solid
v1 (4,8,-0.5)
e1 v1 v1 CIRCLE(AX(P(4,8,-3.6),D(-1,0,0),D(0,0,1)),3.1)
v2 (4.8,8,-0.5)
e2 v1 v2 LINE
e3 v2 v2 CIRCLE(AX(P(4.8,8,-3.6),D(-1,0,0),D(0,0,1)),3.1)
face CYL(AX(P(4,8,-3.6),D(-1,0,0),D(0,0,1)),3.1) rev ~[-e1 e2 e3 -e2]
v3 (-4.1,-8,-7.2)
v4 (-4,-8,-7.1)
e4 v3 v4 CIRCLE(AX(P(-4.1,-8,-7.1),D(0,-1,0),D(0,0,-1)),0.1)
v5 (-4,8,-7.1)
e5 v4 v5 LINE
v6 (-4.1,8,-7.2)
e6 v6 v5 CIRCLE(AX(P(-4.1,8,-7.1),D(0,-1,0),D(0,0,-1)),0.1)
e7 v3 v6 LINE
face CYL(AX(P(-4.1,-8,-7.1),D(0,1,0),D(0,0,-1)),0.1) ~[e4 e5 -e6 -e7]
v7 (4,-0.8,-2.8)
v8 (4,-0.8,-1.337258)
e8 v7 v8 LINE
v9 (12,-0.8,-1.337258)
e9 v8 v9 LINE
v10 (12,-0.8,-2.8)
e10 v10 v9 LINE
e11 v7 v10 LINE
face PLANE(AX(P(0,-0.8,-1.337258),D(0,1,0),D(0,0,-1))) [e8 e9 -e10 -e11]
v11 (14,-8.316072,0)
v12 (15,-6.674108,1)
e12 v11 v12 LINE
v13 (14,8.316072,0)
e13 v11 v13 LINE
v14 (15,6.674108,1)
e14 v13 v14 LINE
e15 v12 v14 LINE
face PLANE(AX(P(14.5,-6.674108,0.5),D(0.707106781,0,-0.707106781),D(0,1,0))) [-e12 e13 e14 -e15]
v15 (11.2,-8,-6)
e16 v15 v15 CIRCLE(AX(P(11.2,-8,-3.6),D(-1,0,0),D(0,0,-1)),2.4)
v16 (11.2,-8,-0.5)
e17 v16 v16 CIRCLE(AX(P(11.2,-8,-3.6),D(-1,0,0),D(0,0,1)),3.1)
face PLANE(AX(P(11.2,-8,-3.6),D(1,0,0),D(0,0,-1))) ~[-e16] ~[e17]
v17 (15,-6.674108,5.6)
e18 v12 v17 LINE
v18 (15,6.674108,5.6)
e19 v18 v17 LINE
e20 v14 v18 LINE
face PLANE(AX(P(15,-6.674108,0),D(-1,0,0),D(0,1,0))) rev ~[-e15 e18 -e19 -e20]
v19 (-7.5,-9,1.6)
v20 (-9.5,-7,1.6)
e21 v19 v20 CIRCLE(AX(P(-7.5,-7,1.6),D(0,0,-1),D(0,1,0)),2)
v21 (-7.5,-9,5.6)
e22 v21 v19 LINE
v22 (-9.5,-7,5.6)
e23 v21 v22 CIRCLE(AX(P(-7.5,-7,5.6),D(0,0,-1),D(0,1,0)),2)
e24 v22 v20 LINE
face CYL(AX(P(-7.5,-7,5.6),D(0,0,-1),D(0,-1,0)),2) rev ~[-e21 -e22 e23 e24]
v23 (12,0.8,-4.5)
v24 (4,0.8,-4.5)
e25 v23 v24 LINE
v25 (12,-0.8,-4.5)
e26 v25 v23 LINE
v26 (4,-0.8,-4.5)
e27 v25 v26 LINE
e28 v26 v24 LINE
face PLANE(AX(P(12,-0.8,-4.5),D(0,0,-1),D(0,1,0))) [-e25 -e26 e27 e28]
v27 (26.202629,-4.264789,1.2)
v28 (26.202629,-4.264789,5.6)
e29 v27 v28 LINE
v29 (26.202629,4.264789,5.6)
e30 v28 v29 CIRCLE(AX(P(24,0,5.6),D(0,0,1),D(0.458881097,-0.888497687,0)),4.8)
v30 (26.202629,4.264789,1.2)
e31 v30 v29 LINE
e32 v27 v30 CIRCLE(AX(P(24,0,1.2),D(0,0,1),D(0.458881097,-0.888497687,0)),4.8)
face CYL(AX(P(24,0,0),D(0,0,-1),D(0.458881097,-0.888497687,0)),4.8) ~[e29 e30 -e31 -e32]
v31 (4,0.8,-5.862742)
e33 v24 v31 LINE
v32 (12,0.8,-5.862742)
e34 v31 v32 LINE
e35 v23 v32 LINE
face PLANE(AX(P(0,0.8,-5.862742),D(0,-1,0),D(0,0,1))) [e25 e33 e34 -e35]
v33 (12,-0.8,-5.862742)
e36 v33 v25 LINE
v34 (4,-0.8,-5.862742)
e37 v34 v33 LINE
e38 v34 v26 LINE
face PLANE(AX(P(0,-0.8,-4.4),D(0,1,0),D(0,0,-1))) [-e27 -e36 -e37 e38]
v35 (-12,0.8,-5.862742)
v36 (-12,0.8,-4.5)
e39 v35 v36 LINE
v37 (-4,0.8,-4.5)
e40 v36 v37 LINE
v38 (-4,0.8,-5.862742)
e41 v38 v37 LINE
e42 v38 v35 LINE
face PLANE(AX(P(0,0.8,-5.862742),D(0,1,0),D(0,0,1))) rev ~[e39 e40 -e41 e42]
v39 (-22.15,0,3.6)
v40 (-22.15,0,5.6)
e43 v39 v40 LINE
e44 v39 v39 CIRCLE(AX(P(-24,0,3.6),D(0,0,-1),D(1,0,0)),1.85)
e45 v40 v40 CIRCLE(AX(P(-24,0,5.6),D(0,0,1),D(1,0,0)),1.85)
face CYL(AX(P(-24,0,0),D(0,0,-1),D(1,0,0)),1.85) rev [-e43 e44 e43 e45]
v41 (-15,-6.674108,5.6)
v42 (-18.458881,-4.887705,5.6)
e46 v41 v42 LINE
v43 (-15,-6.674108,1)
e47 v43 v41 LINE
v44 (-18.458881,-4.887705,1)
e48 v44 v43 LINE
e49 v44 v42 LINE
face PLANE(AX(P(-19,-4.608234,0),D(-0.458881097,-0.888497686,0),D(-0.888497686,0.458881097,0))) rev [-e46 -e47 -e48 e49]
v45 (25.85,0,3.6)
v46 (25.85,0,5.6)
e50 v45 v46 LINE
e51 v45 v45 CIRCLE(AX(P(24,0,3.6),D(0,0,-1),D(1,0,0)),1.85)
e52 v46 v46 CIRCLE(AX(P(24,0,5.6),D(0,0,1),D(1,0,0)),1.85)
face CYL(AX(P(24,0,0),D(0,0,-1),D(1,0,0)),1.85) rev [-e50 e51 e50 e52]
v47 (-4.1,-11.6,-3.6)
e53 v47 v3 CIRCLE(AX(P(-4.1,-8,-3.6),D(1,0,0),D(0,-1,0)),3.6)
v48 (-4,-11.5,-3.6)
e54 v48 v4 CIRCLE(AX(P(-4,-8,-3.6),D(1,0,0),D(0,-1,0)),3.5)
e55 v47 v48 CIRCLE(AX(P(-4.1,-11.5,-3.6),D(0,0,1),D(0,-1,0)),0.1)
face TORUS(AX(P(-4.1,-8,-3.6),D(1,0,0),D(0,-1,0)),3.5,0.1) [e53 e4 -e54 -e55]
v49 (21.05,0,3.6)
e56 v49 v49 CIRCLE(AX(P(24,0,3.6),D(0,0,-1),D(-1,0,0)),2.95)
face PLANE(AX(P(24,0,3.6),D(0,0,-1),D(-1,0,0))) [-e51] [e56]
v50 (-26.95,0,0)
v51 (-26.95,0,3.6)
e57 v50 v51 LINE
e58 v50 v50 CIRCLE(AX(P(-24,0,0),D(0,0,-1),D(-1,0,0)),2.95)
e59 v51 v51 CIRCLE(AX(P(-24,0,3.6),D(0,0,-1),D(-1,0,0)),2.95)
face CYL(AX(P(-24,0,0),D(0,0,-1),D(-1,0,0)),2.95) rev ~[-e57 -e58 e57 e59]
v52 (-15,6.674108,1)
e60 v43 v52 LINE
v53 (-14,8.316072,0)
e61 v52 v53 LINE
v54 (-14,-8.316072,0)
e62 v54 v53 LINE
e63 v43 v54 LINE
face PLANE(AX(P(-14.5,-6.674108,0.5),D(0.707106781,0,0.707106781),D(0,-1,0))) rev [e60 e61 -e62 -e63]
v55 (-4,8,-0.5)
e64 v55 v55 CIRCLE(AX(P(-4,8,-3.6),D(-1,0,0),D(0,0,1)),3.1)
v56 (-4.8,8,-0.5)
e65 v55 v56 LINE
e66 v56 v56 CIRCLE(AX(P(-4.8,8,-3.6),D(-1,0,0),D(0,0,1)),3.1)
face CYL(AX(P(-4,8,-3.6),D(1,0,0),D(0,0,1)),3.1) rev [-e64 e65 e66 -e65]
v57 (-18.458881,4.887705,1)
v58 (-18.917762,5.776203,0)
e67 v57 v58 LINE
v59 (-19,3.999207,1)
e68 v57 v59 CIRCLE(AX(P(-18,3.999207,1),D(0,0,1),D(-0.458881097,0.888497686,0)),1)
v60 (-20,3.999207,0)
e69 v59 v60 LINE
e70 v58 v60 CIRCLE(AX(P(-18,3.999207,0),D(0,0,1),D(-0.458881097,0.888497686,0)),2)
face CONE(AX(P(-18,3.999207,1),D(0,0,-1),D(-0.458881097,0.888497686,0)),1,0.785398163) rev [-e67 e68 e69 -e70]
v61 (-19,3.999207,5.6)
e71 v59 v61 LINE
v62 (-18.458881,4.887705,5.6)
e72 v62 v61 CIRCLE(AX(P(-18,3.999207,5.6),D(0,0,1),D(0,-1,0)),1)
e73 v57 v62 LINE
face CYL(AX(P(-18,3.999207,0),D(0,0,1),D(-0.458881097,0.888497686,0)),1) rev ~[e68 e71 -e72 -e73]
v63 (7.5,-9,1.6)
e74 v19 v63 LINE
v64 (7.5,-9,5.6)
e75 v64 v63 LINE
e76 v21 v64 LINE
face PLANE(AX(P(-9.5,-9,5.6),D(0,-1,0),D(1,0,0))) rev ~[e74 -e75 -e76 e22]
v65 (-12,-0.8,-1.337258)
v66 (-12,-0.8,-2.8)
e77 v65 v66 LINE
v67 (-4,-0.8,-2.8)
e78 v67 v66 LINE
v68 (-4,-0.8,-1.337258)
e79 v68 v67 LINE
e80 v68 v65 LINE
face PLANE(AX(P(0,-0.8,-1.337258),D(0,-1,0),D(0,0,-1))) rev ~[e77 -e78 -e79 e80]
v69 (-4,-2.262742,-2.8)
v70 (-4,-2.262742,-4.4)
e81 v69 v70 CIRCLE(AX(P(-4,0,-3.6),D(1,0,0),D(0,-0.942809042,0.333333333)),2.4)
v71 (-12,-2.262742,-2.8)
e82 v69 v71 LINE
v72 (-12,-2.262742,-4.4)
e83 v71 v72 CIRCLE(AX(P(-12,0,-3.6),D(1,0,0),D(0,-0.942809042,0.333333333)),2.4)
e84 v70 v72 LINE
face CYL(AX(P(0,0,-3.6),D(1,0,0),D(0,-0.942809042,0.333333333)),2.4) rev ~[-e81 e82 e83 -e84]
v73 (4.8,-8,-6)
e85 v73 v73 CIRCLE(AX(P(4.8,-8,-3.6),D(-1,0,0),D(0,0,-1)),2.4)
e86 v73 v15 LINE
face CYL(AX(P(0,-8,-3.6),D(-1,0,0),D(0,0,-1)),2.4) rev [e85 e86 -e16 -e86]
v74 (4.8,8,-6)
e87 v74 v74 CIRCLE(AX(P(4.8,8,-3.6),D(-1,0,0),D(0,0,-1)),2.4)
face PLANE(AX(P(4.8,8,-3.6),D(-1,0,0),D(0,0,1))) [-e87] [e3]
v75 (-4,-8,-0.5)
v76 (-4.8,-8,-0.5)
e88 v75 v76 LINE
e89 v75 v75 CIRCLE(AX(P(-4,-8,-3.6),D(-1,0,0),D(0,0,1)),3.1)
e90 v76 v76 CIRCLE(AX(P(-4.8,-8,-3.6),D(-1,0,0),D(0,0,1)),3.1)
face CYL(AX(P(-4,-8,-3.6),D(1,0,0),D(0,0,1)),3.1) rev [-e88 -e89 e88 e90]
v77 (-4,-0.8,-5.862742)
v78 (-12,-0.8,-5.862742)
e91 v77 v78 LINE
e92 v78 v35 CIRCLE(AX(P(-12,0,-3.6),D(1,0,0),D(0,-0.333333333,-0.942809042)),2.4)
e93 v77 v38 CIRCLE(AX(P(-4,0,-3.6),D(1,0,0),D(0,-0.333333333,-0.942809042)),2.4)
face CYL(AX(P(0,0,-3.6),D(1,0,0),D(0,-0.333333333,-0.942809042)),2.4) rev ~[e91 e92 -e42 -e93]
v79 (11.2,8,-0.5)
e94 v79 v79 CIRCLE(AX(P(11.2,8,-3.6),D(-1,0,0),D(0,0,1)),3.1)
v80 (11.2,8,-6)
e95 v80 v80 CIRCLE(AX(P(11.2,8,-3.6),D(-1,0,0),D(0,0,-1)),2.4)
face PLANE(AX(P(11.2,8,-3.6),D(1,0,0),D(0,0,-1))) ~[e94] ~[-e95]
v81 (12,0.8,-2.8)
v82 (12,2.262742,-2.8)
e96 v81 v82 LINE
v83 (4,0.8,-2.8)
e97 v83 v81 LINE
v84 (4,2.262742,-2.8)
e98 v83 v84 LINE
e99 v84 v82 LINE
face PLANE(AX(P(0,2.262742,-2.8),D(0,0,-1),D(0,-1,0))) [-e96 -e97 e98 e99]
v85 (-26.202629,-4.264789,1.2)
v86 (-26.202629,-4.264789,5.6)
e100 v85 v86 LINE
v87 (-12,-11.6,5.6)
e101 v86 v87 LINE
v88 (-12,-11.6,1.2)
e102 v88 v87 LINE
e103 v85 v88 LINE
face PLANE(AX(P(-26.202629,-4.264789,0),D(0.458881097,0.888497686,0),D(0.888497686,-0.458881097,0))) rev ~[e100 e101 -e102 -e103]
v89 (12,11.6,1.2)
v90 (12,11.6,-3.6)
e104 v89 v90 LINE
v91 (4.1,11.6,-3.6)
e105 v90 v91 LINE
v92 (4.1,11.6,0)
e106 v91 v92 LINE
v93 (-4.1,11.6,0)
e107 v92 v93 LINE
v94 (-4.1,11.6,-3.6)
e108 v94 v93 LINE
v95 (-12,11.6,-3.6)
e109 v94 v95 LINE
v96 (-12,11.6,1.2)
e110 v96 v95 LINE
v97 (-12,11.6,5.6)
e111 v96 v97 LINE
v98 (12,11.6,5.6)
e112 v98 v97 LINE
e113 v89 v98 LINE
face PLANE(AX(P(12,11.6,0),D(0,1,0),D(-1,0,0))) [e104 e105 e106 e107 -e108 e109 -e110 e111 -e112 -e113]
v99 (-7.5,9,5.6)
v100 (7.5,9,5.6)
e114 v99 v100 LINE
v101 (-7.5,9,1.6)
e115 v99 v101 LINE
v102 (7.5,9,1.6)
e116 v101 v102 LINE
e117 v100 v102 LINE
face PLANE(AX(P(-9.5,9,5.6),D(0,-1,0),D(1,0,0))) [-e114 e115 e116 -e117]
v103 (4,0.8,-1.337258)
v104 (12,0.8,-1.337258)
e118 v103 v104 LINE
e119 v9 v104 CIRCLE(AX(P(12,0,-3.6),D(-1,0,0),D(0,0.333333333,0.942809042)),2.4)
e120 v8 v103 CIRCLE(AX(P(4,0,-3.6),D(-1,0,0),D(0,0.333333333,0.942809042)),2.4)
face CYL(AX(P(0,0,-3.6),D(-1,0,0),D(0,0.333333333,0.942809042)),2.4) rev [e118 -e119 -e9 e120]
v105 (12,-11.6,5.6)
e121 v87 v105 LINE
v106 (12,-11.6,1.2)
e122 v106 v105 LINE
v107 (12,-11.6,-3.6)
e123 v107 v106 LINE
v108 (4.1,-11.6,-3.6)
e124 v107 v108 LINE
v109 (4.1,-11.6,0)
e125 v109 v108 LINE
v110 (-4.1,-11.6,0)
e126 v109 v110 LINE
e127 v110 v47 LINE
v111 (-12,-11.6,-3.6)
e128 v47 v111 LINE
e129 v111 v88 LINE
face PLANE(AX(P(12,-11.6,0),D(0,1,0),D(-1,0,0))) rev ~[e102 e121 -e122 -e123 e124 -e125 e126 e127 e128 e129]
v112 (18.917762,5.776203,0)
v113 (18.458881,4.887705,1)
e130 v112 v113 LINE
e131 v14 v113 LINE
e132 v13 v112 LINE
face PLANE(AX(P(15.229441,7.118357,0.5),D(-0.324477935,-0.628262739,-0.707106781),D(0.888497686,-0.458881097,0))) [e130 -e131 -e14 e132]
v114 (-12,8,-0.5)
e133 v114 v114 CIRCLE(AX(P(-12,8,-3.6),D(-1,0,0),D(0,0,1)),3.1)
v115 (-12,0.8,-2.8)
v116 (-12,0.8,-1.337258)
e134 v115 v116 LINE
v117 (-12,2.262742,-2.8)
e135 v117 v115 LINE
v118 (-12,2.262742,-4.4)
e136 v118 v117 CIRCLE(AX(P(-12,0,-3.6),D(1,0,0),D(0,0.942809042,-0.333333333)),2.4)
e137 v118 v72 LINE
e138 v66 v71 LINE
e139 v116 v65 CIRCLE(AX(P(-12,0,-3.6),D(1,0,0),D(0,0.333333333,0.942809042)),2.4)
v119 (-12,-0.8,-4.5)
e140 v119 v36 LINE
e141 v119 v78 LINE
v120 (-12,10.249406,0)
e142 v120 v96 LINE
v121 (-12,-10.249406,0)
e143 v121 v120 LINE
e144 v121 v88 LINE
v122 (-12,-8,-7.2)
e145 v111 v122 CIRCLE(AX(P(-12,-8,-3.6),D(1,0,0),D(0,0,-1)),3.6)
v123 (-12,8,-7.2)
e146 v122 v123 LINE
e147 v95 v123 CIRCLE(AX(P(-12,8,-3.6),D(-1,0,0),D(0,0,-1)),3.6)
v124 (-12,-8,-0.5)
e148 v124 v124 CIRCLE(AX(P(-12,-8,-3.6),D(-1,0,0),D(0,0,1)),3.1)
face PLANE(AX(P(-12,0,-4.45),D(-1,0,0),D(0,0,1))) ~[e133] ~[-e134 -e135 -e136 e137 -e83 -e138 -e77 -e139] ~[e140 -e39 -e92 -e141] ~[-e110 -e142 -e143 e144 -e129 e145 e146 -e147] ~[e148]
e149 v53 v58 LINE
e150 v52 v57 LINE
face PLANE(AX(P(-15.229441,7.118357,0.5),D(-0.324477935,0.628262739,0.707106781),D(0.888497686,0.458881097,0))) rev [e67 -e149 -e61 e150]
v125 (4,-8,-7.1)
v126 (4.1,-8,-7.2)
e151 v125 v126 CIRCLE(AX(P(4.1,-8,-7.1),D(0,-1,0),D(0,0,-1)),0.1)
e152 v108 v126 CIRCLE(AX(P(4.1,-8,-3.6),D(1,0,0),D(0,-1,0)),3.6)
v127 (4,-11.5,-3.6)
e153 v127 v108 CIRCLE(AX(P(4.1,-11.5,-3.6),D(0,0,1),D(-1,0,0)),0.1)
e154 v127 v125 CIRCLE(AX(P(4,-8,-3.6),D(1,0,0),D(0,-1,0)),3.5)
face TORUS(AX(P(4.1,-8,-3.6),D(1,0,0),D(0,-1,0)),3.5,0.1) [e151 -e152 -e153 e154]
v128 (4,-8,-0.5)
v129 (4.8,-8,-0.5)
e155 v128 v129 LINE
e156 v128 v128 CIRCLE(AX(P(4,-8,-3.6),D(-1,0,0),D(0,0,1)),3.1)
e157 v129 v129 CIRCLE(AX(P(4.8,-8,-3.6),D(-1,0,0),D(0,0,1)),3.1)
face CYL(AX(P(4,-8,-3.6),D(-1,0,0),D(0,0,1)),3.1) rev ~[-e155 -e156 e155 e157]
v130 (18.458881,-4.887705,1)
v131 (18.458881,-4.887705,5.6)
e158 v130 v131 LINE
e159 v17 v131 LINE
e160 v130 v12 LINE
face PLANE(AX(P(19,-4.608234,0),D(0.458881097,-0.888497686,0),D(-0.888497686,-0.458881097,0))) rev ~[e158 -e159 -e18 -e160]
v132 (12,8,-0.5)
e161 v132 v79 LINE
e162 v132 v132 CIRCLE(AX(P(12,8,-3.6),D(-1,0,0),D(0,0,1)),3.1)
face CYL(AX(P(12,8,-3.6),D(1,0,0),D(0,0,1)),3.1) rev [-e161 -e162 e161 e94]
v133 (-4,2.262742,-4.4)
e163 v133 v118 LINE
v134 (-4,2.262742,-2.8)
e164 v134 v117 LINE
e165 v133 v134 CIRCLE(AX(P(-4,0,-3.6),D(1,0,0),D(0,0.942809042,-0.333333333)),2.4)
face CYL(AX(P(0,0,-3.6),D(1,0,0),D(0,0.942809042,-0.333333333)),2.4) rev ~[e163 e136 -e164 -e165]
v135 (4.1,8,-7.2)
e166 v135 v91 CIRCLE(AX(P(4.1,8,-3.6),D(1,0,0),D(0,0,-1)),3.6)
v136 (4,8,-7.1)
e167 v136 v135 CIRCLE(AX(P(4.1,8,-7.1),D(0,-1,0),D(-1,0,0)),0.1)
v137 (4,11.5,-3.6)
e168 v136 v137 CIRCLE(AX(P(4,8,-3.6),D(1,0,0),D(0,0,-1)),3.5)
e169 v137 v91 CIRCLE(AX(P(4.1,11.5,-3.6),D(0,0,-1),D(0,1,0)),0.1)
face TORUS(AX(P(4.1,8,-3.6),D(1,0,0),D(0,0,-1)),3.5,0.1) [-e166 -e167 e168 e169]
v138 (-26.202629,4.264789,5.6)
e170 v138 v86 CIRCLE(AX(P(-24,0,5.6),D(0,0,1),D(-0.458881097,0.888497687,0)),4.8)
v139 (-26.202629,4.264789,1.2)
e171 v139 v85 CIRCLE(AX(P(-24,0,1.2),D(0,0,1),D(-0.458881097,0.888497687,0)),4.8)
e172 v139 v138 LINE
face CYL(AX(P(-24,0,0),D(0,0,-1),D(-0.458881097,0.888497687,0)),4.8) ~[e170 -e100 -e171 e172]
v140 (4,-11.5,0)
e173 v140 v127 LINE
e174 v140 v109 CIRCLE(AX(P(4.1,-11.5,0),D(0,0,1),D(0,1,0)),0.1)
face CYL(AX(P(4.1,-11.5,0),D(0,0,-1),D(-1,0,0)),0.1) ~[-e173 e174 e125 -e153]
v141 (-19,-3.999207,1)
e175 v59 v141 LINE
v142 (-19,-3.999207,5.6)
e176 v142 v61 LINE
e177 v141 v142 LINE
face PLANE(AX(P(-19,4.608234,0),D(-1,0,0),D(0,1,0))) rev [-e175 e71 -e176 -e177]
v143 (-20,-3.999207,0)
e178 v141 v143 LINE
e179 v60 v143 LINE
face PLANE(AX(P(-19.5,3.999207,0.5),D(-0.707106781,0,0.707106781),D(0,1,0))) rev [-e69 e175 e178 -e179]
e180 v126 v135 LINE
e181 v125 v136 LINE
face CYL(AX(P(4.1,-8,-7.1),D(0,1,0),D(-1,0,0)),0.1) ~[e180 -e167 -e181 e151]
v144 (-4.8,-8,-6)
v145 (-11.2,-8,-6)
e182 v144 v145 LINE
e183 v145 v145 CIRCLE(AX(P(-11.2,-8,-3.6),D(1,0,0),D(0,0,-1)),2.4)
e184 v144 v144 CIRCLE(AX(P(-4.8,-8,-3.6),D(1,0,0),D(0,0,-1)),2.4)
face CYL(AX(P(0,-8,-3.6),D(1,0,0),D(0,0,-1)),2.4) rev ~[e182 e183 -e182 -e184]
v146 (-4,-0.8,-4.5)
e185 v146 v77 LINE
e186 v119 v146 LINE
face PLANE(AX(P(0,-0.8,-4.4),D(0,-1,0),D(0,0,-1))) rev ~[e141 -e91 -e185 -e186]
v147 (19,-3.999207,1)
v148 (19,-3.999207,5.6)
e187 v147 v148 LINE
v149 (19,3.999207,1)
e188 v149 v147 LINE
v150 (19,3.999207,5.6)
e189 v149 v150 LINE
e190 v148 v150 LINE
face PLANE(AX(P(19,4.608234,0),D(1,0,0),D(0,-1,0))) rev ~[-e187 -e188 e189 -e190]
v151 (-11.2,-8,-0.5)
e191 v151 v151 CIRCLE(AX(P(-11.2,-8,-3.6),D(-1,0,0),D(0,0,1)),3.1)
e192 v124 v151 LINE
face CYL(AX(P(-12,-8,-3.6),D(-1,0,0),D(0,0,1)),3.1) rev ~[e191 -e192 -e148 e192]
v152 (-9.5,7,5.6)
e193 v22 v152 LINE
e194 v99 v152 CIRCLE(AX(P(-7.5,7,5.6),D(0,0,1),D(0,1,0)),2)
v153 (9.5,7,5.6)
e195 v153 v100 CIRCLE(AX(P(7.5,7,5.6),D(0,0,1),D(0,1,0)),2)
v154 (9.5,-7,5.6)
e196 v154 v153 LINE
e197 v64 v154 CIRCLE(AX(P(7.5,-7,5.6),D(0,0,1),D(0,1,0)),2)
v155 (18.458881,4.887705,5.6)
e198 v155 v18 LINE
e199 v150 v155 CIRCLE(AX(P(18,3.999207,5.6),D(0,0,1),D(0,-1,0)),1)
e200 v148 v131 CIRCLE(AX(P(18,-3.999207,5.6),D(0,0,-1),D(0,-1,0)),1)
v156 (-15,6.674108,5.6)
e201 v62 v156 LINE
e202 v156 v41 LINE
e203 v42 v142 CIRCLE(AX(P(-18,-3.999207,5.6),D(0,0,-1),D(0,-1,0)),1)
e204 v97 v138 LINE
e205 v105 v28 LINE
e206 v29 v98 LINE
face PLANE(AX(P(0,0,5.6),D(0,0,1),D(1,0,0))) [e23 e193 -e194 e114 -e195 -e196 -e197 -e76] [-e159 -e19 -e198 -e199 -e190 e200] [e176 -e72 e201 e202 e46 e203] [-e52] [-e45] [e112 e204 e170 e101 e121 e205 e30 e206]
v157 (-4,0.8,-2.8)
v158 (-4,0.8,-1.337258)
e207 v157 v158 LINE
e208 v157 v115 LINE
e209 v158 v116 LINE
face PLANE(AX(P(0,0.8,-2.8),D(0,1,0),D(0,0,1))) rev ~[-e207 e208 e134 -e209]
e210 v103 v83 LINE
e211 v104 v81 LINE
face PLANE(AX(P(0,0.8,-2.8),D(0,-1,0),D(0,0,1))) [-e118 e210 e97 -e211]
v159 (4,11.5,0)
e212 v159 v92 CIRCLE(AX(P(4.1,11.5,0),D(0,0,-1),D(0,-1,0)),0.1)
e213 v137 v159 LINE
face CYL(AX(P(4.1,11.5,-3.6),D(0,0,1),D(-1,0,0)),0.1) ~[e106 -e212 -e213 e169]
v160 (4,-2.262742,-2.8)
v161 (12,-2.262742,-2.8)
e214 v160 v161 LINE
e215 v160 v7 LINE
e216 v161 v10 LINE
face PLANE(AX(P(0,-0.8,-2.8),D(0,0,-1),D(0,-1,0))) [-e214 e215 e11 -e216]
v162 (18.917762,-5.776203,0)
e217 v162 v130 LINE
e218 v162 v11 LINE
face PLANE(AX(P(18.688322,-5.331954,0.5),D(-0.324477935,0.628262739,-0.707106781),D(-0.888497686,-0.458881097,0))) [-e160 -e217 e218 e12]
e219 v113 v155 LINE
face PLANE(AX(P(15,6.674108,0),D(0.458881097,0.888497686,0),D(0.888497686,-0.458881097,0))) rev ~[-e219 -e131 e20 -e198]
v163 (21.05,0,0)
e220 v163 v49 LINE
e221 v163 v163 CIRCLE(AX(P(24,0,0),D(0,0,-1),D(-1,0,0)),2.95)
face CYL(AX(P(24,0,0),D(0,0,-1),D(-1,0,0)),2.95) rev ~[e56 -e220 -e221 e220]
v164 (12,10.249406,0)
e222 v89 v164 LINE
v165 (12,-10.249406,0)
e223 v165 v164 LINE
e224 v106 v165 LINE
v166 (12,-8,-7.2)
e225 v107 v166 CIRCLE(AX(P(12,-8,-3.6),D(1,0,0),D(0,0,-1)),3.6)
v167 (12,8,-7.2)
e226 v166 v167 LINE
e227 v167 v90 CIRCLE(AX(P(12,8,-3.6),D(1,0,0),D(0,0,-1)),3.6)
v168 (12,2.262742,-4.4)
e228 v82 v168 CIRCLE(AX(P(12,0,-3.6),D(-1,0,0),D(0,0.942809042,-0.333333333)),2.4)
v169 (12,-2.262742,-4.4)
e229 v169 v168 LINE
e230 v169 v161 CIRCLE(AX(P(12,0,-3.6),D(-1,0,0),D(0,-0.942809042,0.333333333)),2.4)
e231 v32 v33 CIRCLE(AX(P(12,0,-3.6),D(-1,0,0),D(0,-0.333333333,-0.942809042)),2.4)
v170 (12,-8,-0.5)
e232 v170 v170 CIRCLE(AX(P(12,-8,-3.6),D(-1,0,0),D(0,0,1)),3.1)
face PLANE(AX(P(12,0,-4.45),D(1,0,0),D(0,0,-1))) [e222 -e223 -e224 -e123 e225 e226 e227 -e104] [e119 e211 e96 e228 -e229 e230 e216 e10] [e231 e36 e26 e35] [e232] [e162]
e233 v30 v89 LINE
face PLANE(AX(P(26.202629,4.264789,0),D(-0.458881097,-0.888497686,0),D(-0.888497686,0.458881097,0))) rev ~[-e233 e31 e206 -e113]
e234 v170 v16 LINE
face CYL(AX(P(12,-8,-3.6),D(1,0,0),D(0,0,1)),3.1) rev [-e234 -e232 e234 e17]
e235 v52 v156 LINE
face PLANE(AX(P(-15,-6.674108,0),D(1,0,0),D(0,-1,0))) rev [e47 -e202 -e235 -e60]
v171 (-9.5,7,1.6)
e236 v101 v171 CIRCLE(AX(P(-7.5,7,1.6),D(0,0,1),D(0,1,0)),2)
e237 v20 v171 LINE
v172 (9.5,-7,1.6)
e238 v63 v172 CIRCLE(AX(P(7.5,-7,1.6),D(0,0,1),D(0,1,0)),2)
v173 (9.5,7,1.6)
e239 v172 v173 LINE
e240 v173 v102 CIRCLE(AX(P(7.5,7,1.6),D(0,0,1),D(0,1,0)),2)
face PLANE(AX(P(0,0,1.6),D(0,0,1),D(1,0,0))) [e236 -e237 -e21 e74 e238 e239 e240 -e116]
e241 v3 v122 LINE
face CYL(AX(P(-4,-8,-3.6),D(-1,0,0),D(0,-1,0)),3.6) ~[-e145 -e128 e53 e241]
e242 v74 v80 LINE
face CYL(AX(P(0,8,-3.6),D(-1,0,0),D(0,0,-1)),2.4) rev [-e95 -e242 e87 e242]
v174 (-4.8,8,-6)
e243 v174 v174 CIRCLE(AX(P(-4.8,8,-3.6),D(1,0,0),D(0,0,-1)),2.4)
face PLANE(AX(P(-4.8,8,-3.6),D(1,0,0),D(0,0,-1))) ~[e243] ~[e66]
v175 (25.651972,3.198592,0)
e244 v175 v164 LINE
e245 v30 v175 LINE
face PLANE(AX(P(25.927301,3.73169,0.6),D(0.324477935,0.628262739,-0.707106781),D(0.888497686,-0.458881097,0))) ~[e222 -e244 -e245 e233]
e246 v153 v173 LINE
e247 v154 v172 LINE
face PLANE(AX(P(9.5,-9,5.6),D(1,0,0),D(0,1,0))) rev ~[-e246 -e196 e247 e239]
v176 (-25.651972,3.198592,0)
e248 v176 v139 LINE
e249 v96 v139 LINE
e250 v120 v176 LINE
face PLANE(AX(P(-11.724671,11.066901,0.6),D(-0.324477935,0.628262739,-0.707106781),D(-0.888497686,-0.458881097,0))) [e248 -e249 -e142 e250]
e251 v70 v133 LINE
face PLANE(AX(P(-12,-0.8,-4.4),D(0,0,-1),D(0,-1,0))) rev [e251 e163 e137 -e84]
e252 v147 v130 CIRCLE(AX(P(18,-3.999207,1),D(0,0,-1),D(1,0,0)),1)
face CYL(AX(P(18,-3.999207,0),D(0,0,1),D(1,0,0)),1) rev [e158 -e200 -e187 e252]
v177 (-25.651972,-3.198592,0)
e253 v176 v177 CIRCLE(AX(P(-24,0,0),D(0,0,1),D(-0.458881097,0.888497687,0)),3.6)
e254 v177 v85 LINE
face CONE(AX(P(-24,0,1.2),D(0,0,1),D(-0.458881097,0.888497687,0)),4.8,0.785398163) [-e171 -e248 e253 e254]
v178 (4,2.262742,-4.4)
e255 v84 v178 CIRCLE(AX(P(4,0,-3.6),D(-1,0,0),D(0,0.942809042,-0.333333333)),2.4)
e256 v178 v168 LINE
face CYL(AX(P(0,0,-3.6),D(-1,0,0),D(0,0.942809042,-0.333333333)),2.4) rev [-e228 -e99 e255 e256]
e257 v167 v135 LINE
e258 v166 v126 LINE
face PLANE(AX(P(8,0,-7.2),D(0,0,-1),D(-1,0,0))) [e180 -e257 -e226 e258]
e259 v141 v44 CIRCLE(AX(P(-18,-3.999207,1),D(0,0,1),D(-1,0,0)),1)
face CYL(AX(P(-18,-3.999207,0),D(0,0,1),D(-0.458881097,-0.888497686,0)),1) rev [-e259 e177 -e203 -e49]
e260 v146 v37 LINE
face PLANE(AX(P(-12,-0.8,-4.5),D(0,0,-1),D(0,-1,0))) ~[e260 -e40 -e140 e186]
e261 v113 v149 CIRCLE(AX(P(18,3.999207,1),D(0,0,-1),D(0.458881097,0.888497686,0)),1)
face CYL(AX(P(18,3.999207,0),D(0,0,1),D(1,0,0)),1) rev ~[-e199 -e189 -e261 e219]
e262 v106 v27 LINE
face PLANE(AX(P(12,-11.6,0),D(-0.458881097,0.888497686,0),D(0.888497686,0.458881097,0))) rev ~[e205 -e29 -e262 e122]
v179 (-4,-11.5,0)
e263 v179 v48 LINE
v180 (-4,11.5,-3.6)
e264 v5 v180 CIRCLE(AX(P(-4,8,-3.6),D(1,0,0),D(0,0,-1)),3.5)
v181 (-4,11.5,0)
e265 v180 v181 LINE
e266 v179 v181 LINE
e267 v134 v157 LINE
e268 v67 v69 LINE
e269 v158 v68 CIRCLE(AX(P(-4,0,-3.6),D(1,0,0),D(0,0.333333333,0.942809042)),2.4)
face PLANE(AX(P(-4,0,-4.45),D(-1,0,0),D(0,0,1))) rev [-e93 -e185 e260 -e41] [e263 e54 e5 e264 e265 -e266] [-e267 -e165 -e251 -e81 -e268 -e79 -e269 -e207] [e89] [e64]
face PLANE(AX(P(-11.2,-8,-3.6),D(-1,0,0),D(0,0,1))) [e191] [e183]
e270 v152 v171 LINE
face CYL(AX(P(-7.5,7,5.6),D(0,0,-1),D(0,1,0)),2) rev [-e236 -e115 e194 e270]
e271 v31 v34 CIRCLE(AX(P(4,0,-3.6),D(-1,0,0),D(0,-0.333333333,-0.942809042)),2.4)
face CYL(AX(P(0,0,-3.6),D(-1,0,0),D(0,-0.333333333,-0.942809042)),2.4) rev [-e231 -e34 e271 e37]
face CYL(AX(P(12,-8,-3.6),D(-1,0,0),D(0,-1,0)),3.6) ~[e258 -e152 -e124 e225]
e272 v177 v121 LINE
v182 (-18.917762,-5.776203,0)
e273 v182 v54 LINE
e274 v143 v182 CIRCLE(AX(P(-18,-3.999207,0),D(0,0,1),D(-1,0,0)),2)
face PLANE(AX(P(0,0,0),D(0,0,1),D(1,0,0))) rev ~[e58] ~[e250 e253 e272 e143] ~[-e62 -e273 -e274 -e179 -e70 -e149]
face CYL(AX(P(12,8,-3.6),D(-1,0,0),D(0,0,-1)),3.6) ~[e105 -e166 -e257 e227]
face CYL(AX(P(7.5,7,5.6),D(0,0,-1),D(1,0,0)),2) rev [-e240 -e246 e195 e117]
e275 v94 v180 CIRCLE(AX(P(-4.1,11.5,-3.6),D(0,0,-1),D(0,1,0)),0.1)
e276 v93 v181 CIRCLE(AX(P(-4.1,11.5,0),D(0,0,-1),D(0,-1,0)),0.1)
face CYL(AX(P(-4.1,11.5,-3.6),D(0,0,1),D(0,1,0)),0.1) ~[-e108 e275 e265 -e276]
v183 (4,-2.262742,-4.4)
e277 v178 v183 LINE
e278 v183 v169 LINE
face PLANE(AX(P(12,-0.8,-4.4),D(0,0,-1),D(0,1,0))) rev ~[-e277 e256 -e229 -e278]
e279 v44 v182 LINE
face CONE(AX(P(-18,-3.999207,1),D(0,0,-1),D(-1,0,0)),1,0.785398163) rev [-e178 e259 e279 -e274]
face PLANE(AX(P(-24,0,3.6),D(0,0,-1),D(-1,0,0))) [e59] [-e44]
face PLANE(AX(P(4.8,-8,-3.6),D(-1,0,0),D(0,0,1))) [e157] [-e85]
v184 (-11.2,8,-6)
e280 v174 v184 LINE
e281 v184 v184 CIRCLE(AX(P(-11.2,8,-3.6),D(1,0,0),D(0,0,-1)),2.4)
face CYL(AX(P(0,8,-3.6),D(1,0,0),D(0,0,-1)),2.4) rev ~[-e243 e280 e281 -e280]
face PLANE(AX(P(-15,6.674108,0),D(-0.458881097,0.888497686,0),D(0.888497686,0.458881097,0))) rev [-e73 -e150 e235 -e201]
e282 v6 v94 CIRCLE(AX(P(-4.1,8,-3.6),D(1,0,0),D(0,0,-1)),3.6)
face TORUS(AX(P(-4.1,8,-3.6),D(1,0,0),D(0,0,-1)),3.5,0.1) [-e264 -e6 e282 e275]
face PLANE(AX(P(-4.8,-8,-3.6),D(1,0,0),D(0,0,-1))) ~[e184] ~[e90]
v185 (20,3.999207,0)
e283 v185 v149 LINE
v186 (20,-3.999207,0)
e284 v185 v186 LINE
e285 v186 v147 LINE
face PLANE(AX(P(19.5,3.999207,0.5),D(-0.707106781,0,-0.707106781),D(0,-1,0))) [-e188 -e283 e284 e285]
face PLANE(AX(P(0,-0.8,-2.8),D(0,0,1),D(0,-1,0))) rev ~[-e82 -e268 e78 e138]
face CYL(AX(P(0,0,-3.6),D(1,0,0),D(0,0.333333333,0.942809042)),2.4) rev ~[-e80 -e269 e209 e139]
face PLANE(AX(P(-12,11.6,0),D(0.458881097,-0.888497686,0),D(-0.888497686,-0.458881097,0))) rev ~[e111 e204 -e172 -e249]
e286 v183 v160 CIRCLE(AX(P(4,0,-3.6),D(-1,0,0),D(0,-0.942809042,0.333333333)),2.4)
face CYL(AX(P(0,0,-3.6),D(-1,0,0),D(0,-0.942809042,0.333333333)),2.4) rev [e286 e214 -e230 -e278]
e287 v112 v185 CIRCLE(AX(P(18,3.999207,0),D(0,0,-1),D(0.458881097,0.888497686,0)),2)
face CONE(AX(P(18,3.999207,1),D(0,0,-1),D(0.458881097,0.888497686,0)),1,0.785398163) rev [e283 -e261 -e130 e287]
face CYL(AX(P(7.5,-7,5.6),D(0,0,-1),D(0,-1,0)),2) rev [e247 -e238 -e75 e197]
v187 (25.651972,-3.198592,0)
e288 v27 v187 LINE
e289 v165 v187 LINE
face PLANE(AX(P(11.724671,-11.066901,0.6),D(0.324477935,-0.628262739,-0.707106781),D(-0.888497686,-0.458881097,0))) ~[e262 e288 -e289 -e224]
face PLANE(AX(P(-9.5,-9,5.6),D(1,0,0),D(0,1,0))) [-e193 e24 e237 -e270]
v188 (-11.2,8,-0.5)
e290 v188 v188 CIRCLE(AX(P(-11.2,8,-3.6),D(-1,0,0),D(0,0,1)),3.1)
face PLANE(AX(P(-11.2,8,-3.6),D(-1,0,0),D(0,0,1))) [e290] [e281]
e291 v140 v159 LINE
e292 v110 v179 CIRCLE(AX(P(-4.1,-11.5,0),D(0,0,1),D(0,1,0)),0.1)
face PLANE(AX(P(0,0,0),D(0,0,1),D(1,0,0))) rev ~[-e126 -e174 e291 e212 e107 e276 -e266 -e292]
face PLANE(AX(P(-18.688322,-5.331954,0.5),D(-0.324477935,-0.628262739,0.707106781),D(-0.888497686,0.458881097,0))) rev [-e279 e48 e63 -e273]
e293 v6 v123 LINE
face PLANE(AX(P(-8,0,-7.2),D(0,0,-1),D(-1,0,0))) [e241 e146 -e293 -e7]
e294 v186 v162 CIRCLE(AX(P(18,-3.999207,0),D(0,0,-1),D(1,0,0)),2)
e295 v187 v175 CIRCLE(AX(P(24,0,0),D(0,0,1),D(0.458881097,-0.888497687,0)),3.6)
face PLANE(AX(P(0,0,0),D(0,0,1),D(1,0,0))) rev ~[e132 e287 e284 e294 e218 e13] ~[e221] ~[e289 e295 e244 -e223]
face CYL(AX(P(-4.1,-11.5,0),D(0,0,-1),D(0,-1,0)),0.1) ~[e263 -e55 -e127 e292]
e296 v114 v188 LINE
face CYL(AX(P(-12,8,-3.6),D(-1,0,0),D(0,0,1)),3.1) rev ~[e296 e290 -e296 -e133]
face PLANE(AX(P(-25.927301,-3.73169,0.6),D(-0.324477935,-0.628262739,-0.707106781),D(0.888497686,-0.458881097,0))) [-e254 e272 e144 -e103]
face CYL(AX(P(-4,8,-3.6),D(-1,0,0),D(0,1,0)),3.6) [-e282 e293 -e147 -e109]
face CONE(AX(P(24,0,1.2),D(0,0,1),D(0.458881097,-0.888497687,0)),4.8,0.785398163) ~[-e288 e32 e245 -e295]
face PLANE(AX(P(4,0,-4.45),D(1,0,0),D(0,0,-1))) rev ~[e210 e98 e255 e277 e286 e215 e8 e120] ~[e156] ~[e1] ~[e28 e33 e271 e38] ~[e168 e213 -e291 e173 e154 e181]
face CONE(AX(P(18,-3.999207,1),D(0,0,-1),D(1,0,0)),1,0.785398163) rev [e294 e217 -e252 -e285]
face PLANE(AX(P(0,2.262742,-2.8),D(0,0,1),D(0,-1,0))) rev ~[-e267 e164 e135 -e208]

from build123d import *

# Parameters (mm, degrees)
SKETCH_2_R                 = 1.85
EXTRUDE_1_DEPTH            = 5.6
SKETCH_3_R                 = 2.95
CUT_EXTRUDE_1_DEPTH        = 3.6
SKETCH_4_W                 = 8
SKETCH_4_H                 = 23.2
EXTRUDE_2_DEPTH            = 7.2
SKETCH_5_R                 = 2.4
CUT_EXTRUDE_2_DEPTH        = 29.8
CUT_EXTRUDE_2_DEPTH_BACK   = 29.8
FILLET_1_R                 = 3.6
SKETCH_6_R                 = 3.1
CUT_EXTRUDE_3_DEPTH        = 0.8
MIRROR_2_COPY_1_SKETCH_R   = 3.1
MIRROR_2_COPY_1_DEPTH      = 0.8
CUT_EXTRUDE_4_DEPTH        = 6.6
SKETCH_8_W                 = 19
SKETCH_8_H                 = 18
CUT_EXTRUDE_5_DEPTH        = 4
FILLET_3_R                 = 2
FILLET_4_R                 = 0.1
FILLET_5_R                 = 1
CHAMFER_1_SIZE             = 1
FILLET_5_OF_MIRROR_3_R     = 1
CHAMFER_1_OF_MIRROR_3_SIZE = 1
CHAMFER_2_SIZE             = 1.2
SKETCH_9_W                 = 0.1
SKETCH_9_H                 = 1.6
EXTRUDE_3_DEPTH            = 8


with BuildPart() as part:
    # ｽｹｯﾁ2 → ﾎﾞｽ - 押し出し1 (new body)
    with BuildSketch(Plane.XY):
        with BuildLine():
            Line((-12, 11.6), (-26.202629265, 4.264788895))
            ThreePointArc((-26.202629265, 4.264788895), (-28.8, 0), (-26.202629265, -4.264788895))
            Line((-26.202629265, -4.264788895), (-12, -11.6))
            Line((-12, -11.6), (12, -11.6))
            Line((12, -11.6), (26.202629265, -4.264788895))
            ThreePointArc((26.202629265, -4.264788895), (28.8, 0), (26.202629265, 4.264788895))
            Line((26.202629265, 4.264788895), (12, 11.6))
            Line((12, 11.6), (-12, 11.6))
        make_face()
        with Locations((-24, 0)):
            Circle(SKETCH_2_R, mode=Mode.SUBTRACT)
        with Locations((24, 0)):
            Circle(SKETCH_2_R, mode=Mode.SUBTRACT)
    extrude(amount=EXTRUDE_1_DEPTH)

    # ｽｹｯﾁ3 → ｶｯﾄ - 押し出し1 (cut)
    with BuildSketch(Plane(origin=(0, 0, 0), x_dir=(-1, 0, 0), z_dir=(0, 0, -1))):
        with Locations((-24, 0)):
            Circle(SKETCH_3_R)
        with Locations((24, 0)):
            Circle(SKETCH_3_R)
    extrude(amount=-CUT_EXTRUDE_1_DEPTH, mode=Mode.SUBTRACT)

    # ｽｹｯﾁ4 → ﾎﾞｽ - 押し出し2 (add)
    with BuildSketch(Plane(origin=(0, 0, 0), x_dir=(-1, 0, 0), z_dir=(0, 0, -1))):
        with Locations((-8, 0)):
            Rectangle(SKETCH_4_W, SKETCH_4_H)
        with Locations((8, 0)):
            Rectangle(SKETCH_4_W, SKETCH_4_H)
    extrude(amount=EXTRUDE_2_DEPTH)

    # ｽｹｯﾁ5 → ｶｯﾄ - 押し出し2 (cut, two sides)
    with BuildSketch(Plane(origin=(0, 0, 0), x_dir=(0, 0, -1), z_dir=(1, 0, 0))) as cut_extrude_2_sk:
        with Locations((3.6, 8)):
            Circle(SKETCH_5_R)
        with Locations((3.6, -8)):
            Circle(SKETCH_5_R)
        with BuildLine():
            Line((2.8, 2.2627417), (2.8, 0.8))
            Line((2.8, 0.8), (1.3372583, 0.8))
            ThreePointArc((1.3372583, 0.8), (1.2, 0), (1.3372583, -0.8))
            Line((1.3372583, -0.8), (2.8, -0.8))
            Line((2.8, -0.8), (2.8, -2.2627417))
            ThreePointArc((2.8, -2.2627417), (3.6, -2.4), (4.4, -2.2627417))
            Line((4.4, -2.2627417), (4.4, -0.8))
            Line((4.4, -0.8), (5.8627417, -0.8))
            ThreePointArc((5.8627417, -0.8), (6, 0), (5.8627417, 0.8))
            Line((5.8627417, 0.8), (4.4, 0.8))
            Line((4.4, 0.8), (4.4, 2.2627417))
            ThreePointArc((4.4, 2.2627417), (3.6, 2.4), (2.8, 2.2627417))
        make_face()
    extrude(amount=CUT_EXTRUDE_2_DEPTH, mode=Mode.SUBTRACT)
    extrude(cut_extrude_2_sk.sketch, amount=-CUT_EXTRUDE_2_DEPTH_BACK, mode=Mode.SUBTRACT)

    # ﾌｨﾚｯﾄ1
    fillet_1_edges = [part.edges().sort_by_distance(p)[0] for p in [
        (8, -11.6, -7.2),
        (8, 11.6, -7.2),
        (-8, -11.6, -7.2),
        (-8, 11.6, -7.2),
    ]]
    fillet(fillet_1_edges, radius=FILLET_1_R)

    # ｽｹｯﾁ6 → ｶｯﾄ - 押し出し3 (cut)
    with BuildSketch(Plane.ZY.offset(-4)):
        with Locations((-3.6, 8)):
            Circle(SKETCH_6_R)
        with Locations((-3.6, -8)):
            Circle(SKETCH_6_R)
    cut_extrude_3 = extrude(amount=-CUT_EXTRUDE_3_DEPTH, mode=Mode.SUBTRACT)

    # ﾐﾗｰ1: ｶｯﾄ - 押し出し3 across plane
    add(cut_extrude_3.mirror(Plane(origin=(8, 0, 0), x_dir=(0, 0, 1), z_dir=(1, 0, 0))), mode=Mode.SUBTRACT)

    # ﾐﾗｰ2: ｶｯﾄ - 押し出し3 across plane
    add(cut_extrude_3.mirror(Plane(origin=(0, 0, 0), x_dir=(0, 0, 1), z_dir=(1, 0, 0))), mode=Mode.SUBTRACT)

    # ﾐﾗｰ2 copy 1 sketch → ﾐﾗｰ2 copy 1 (cut)
    with BuildSketch(Plane.ZY.offset(12)):
        with Locations((-3.6, 8)):
            Circle(MIRROR_2_COPY_1_SKETCH_R)
        with Locations((-3.6, -8)):
            Circle(MIRROR_2_COPY_1_SKETCH_R)
    extrude(amount=-MIRROR_2_COPY_1_DEPTH, mode=Mode.SUBTRACT)

    # ｽｹｯﾁ7 → ｶｯﾄ - 押し出し4 (cut, through all)
    with BuildSketch(Plane(origin=(0, 0, 0), x_dir=(-1, 0, 0), z_dir=(0, 0, -1))):
        Polygon((-19, 4.608234267), (-19, -4.608234267), (-15, -6.6741084), (-15, 6.6741084), align=None)
    cut_extrude_4 = extrude(amount=-CUT_EXTRUDE_4_DEPTH, mode=Mode.SUBTRACT)

    # ｽｹｯﾁ8 → ｶｯﾄ - 押し出し5 (cut)
    with BuildSketch(Plane.XY.offset(5.6)):
        Rectangle(SKETCH_8_W, SKETCH_8_H)
    extrude(amount=-CUT_EXTRUDE_5_DEPTH, mode=Mode.SUBTRACT)

    # ﾌｨﾚｯﾄ3
    fillet_3_edges = [part.edges().sort_by_distance(p)[0] for p in [
        (-9.5, -9, 3.6),
        (-9.5, 9, 3.6),
        (9.5, 9, 3.6),
        (9.5, -9, 3.6),
    ]]
    fillet(fillet_3_edges, radius=FILLET_3_R)

    # ﾌｨﾚｯﾄ4
    fillet_4_edges = [part.edges().sort_by_distance(p)[0] for p in [
        (4, 0, -7.2),
        (4, 11.6, -1.8),
        (4, -11.6, -1.8),
        (4, 10.545584412, -6.145584412),
        (4, -10.545584412, -6.145584412),
        (-4, -11.6, -1.8),
        (-4, 0, -7.2),
        (-4, 11.6, -1.8),
        (-4, 10.545584412, -6.145584412),
        (-4, -10.545584412, -6.145584412),
    ]]
    fillet(fillet_4_edges, radius=FILLET_4_R)

    # ﾌｨﾚｯﾄ5
    fillet_5_edges = [part.edges().sort_by_distance(p)[0] for p in [
        (19, 4.608234267, 2.8),
        (19, -4.608234267, 2.8),
    ]]
    fillet(fillet_5_edges, radius=FILLET_5_R)

    # 面取り1
    chamfer_1_edges = [part.edges().sort_by_distance(p)[0] for p in [
        (16.729440548, 5.780906776, 0),
        (15, 0, 0),
        (16.729440548, -5.780906776, 0),
        (19, 0, 0),
        (18.854072918, -4.519360763, 0),
        (18.854072918, 4.519360763, 0),
    ]]
    chamfer(chamfer_1_edges, length=CHAMFER_1_SIZE)

    # ﾐﾗｰ3: ｶｯﾄ - 押し出し4 across plane
    add(cut_extrude_4.mirror(Plane(origin=(0, 0, 0), x_dir=(0, 0, 1), z_dir=(1, 0, 0))), mode=Mode.SUBTRACT)

    # ﾌｨﾚｯﾄ5 of ﾐﾗｰ3
    fillet_5_of_mirror_3_edges = [part.edges().sort_by_distance(p)[0] for p in [
        (-19, 4.608234267, 2.8),
        (-19, -4.608234267, 2.8),
    ]]
    fillet(fillet_5_of_mirror_3_edges, radius=FILLET_5_OF_MIRROR_3_R)

    # 面取り1 of ﾐﾗｰ3
    chamfer_1_of_mirror_3_edges = [part.edges().sort_by_distance(p)[0] for p in [
        (-16.729440548, 5.780906776, 0),
        (-15, 0, 0),
        (-16.729440548, -5.780906776, 0),
        (-19, 0, 0),
        (-18.854072918, -4.519360763, 0),
        (-18.854072918, 4.519360763, 0),
    ]]
    chamfer(chamfer_1_of_mirror_3_edges, length=CHAMFER_1_OF_MIRROR_3_SIZE)

    # 面取り2
    chamfer_2_edges = [part.edges().sort_by_distance(p)[0] for p in [
        (-19.101314633, -7.932394448, 0),
        (-28.8, 0, 0),
        (-19.101314633, 7.932394448, 0),
        (19.101314633, 7.932394448, 0),
        (28.8, 0, 0),
        (19.101314633, -7.932394448, 0),
    ]]
    chamfer(chamfer_2_edges, length=CHAMFER_2_SIZE)

    # ｽｹｯﾁ9 → ﾎﾞｽ - 押し出し3 (add)
    with BuildSketch(Plane(origin=(12, 0, 0), x_dir=(0, 0, -1), z_dir=(1, 0, 0))):
        with Locations((4.45, 0)):
            Rectangle(SKETCH_9_W, SKETCH_9_H)
    extrude_3 = extrude(amount=-EXTRUDE_3_DEPTH)

    # ﾐﾗｰ4: ﾎﾞｽ - 押し出し3 across plane
    add(extrude_3.mirror(Plane(origin=(0, 0, 0), x_dir=(0, 0, 1), z_dir=(1, 0, 0))))


solid = part.part
